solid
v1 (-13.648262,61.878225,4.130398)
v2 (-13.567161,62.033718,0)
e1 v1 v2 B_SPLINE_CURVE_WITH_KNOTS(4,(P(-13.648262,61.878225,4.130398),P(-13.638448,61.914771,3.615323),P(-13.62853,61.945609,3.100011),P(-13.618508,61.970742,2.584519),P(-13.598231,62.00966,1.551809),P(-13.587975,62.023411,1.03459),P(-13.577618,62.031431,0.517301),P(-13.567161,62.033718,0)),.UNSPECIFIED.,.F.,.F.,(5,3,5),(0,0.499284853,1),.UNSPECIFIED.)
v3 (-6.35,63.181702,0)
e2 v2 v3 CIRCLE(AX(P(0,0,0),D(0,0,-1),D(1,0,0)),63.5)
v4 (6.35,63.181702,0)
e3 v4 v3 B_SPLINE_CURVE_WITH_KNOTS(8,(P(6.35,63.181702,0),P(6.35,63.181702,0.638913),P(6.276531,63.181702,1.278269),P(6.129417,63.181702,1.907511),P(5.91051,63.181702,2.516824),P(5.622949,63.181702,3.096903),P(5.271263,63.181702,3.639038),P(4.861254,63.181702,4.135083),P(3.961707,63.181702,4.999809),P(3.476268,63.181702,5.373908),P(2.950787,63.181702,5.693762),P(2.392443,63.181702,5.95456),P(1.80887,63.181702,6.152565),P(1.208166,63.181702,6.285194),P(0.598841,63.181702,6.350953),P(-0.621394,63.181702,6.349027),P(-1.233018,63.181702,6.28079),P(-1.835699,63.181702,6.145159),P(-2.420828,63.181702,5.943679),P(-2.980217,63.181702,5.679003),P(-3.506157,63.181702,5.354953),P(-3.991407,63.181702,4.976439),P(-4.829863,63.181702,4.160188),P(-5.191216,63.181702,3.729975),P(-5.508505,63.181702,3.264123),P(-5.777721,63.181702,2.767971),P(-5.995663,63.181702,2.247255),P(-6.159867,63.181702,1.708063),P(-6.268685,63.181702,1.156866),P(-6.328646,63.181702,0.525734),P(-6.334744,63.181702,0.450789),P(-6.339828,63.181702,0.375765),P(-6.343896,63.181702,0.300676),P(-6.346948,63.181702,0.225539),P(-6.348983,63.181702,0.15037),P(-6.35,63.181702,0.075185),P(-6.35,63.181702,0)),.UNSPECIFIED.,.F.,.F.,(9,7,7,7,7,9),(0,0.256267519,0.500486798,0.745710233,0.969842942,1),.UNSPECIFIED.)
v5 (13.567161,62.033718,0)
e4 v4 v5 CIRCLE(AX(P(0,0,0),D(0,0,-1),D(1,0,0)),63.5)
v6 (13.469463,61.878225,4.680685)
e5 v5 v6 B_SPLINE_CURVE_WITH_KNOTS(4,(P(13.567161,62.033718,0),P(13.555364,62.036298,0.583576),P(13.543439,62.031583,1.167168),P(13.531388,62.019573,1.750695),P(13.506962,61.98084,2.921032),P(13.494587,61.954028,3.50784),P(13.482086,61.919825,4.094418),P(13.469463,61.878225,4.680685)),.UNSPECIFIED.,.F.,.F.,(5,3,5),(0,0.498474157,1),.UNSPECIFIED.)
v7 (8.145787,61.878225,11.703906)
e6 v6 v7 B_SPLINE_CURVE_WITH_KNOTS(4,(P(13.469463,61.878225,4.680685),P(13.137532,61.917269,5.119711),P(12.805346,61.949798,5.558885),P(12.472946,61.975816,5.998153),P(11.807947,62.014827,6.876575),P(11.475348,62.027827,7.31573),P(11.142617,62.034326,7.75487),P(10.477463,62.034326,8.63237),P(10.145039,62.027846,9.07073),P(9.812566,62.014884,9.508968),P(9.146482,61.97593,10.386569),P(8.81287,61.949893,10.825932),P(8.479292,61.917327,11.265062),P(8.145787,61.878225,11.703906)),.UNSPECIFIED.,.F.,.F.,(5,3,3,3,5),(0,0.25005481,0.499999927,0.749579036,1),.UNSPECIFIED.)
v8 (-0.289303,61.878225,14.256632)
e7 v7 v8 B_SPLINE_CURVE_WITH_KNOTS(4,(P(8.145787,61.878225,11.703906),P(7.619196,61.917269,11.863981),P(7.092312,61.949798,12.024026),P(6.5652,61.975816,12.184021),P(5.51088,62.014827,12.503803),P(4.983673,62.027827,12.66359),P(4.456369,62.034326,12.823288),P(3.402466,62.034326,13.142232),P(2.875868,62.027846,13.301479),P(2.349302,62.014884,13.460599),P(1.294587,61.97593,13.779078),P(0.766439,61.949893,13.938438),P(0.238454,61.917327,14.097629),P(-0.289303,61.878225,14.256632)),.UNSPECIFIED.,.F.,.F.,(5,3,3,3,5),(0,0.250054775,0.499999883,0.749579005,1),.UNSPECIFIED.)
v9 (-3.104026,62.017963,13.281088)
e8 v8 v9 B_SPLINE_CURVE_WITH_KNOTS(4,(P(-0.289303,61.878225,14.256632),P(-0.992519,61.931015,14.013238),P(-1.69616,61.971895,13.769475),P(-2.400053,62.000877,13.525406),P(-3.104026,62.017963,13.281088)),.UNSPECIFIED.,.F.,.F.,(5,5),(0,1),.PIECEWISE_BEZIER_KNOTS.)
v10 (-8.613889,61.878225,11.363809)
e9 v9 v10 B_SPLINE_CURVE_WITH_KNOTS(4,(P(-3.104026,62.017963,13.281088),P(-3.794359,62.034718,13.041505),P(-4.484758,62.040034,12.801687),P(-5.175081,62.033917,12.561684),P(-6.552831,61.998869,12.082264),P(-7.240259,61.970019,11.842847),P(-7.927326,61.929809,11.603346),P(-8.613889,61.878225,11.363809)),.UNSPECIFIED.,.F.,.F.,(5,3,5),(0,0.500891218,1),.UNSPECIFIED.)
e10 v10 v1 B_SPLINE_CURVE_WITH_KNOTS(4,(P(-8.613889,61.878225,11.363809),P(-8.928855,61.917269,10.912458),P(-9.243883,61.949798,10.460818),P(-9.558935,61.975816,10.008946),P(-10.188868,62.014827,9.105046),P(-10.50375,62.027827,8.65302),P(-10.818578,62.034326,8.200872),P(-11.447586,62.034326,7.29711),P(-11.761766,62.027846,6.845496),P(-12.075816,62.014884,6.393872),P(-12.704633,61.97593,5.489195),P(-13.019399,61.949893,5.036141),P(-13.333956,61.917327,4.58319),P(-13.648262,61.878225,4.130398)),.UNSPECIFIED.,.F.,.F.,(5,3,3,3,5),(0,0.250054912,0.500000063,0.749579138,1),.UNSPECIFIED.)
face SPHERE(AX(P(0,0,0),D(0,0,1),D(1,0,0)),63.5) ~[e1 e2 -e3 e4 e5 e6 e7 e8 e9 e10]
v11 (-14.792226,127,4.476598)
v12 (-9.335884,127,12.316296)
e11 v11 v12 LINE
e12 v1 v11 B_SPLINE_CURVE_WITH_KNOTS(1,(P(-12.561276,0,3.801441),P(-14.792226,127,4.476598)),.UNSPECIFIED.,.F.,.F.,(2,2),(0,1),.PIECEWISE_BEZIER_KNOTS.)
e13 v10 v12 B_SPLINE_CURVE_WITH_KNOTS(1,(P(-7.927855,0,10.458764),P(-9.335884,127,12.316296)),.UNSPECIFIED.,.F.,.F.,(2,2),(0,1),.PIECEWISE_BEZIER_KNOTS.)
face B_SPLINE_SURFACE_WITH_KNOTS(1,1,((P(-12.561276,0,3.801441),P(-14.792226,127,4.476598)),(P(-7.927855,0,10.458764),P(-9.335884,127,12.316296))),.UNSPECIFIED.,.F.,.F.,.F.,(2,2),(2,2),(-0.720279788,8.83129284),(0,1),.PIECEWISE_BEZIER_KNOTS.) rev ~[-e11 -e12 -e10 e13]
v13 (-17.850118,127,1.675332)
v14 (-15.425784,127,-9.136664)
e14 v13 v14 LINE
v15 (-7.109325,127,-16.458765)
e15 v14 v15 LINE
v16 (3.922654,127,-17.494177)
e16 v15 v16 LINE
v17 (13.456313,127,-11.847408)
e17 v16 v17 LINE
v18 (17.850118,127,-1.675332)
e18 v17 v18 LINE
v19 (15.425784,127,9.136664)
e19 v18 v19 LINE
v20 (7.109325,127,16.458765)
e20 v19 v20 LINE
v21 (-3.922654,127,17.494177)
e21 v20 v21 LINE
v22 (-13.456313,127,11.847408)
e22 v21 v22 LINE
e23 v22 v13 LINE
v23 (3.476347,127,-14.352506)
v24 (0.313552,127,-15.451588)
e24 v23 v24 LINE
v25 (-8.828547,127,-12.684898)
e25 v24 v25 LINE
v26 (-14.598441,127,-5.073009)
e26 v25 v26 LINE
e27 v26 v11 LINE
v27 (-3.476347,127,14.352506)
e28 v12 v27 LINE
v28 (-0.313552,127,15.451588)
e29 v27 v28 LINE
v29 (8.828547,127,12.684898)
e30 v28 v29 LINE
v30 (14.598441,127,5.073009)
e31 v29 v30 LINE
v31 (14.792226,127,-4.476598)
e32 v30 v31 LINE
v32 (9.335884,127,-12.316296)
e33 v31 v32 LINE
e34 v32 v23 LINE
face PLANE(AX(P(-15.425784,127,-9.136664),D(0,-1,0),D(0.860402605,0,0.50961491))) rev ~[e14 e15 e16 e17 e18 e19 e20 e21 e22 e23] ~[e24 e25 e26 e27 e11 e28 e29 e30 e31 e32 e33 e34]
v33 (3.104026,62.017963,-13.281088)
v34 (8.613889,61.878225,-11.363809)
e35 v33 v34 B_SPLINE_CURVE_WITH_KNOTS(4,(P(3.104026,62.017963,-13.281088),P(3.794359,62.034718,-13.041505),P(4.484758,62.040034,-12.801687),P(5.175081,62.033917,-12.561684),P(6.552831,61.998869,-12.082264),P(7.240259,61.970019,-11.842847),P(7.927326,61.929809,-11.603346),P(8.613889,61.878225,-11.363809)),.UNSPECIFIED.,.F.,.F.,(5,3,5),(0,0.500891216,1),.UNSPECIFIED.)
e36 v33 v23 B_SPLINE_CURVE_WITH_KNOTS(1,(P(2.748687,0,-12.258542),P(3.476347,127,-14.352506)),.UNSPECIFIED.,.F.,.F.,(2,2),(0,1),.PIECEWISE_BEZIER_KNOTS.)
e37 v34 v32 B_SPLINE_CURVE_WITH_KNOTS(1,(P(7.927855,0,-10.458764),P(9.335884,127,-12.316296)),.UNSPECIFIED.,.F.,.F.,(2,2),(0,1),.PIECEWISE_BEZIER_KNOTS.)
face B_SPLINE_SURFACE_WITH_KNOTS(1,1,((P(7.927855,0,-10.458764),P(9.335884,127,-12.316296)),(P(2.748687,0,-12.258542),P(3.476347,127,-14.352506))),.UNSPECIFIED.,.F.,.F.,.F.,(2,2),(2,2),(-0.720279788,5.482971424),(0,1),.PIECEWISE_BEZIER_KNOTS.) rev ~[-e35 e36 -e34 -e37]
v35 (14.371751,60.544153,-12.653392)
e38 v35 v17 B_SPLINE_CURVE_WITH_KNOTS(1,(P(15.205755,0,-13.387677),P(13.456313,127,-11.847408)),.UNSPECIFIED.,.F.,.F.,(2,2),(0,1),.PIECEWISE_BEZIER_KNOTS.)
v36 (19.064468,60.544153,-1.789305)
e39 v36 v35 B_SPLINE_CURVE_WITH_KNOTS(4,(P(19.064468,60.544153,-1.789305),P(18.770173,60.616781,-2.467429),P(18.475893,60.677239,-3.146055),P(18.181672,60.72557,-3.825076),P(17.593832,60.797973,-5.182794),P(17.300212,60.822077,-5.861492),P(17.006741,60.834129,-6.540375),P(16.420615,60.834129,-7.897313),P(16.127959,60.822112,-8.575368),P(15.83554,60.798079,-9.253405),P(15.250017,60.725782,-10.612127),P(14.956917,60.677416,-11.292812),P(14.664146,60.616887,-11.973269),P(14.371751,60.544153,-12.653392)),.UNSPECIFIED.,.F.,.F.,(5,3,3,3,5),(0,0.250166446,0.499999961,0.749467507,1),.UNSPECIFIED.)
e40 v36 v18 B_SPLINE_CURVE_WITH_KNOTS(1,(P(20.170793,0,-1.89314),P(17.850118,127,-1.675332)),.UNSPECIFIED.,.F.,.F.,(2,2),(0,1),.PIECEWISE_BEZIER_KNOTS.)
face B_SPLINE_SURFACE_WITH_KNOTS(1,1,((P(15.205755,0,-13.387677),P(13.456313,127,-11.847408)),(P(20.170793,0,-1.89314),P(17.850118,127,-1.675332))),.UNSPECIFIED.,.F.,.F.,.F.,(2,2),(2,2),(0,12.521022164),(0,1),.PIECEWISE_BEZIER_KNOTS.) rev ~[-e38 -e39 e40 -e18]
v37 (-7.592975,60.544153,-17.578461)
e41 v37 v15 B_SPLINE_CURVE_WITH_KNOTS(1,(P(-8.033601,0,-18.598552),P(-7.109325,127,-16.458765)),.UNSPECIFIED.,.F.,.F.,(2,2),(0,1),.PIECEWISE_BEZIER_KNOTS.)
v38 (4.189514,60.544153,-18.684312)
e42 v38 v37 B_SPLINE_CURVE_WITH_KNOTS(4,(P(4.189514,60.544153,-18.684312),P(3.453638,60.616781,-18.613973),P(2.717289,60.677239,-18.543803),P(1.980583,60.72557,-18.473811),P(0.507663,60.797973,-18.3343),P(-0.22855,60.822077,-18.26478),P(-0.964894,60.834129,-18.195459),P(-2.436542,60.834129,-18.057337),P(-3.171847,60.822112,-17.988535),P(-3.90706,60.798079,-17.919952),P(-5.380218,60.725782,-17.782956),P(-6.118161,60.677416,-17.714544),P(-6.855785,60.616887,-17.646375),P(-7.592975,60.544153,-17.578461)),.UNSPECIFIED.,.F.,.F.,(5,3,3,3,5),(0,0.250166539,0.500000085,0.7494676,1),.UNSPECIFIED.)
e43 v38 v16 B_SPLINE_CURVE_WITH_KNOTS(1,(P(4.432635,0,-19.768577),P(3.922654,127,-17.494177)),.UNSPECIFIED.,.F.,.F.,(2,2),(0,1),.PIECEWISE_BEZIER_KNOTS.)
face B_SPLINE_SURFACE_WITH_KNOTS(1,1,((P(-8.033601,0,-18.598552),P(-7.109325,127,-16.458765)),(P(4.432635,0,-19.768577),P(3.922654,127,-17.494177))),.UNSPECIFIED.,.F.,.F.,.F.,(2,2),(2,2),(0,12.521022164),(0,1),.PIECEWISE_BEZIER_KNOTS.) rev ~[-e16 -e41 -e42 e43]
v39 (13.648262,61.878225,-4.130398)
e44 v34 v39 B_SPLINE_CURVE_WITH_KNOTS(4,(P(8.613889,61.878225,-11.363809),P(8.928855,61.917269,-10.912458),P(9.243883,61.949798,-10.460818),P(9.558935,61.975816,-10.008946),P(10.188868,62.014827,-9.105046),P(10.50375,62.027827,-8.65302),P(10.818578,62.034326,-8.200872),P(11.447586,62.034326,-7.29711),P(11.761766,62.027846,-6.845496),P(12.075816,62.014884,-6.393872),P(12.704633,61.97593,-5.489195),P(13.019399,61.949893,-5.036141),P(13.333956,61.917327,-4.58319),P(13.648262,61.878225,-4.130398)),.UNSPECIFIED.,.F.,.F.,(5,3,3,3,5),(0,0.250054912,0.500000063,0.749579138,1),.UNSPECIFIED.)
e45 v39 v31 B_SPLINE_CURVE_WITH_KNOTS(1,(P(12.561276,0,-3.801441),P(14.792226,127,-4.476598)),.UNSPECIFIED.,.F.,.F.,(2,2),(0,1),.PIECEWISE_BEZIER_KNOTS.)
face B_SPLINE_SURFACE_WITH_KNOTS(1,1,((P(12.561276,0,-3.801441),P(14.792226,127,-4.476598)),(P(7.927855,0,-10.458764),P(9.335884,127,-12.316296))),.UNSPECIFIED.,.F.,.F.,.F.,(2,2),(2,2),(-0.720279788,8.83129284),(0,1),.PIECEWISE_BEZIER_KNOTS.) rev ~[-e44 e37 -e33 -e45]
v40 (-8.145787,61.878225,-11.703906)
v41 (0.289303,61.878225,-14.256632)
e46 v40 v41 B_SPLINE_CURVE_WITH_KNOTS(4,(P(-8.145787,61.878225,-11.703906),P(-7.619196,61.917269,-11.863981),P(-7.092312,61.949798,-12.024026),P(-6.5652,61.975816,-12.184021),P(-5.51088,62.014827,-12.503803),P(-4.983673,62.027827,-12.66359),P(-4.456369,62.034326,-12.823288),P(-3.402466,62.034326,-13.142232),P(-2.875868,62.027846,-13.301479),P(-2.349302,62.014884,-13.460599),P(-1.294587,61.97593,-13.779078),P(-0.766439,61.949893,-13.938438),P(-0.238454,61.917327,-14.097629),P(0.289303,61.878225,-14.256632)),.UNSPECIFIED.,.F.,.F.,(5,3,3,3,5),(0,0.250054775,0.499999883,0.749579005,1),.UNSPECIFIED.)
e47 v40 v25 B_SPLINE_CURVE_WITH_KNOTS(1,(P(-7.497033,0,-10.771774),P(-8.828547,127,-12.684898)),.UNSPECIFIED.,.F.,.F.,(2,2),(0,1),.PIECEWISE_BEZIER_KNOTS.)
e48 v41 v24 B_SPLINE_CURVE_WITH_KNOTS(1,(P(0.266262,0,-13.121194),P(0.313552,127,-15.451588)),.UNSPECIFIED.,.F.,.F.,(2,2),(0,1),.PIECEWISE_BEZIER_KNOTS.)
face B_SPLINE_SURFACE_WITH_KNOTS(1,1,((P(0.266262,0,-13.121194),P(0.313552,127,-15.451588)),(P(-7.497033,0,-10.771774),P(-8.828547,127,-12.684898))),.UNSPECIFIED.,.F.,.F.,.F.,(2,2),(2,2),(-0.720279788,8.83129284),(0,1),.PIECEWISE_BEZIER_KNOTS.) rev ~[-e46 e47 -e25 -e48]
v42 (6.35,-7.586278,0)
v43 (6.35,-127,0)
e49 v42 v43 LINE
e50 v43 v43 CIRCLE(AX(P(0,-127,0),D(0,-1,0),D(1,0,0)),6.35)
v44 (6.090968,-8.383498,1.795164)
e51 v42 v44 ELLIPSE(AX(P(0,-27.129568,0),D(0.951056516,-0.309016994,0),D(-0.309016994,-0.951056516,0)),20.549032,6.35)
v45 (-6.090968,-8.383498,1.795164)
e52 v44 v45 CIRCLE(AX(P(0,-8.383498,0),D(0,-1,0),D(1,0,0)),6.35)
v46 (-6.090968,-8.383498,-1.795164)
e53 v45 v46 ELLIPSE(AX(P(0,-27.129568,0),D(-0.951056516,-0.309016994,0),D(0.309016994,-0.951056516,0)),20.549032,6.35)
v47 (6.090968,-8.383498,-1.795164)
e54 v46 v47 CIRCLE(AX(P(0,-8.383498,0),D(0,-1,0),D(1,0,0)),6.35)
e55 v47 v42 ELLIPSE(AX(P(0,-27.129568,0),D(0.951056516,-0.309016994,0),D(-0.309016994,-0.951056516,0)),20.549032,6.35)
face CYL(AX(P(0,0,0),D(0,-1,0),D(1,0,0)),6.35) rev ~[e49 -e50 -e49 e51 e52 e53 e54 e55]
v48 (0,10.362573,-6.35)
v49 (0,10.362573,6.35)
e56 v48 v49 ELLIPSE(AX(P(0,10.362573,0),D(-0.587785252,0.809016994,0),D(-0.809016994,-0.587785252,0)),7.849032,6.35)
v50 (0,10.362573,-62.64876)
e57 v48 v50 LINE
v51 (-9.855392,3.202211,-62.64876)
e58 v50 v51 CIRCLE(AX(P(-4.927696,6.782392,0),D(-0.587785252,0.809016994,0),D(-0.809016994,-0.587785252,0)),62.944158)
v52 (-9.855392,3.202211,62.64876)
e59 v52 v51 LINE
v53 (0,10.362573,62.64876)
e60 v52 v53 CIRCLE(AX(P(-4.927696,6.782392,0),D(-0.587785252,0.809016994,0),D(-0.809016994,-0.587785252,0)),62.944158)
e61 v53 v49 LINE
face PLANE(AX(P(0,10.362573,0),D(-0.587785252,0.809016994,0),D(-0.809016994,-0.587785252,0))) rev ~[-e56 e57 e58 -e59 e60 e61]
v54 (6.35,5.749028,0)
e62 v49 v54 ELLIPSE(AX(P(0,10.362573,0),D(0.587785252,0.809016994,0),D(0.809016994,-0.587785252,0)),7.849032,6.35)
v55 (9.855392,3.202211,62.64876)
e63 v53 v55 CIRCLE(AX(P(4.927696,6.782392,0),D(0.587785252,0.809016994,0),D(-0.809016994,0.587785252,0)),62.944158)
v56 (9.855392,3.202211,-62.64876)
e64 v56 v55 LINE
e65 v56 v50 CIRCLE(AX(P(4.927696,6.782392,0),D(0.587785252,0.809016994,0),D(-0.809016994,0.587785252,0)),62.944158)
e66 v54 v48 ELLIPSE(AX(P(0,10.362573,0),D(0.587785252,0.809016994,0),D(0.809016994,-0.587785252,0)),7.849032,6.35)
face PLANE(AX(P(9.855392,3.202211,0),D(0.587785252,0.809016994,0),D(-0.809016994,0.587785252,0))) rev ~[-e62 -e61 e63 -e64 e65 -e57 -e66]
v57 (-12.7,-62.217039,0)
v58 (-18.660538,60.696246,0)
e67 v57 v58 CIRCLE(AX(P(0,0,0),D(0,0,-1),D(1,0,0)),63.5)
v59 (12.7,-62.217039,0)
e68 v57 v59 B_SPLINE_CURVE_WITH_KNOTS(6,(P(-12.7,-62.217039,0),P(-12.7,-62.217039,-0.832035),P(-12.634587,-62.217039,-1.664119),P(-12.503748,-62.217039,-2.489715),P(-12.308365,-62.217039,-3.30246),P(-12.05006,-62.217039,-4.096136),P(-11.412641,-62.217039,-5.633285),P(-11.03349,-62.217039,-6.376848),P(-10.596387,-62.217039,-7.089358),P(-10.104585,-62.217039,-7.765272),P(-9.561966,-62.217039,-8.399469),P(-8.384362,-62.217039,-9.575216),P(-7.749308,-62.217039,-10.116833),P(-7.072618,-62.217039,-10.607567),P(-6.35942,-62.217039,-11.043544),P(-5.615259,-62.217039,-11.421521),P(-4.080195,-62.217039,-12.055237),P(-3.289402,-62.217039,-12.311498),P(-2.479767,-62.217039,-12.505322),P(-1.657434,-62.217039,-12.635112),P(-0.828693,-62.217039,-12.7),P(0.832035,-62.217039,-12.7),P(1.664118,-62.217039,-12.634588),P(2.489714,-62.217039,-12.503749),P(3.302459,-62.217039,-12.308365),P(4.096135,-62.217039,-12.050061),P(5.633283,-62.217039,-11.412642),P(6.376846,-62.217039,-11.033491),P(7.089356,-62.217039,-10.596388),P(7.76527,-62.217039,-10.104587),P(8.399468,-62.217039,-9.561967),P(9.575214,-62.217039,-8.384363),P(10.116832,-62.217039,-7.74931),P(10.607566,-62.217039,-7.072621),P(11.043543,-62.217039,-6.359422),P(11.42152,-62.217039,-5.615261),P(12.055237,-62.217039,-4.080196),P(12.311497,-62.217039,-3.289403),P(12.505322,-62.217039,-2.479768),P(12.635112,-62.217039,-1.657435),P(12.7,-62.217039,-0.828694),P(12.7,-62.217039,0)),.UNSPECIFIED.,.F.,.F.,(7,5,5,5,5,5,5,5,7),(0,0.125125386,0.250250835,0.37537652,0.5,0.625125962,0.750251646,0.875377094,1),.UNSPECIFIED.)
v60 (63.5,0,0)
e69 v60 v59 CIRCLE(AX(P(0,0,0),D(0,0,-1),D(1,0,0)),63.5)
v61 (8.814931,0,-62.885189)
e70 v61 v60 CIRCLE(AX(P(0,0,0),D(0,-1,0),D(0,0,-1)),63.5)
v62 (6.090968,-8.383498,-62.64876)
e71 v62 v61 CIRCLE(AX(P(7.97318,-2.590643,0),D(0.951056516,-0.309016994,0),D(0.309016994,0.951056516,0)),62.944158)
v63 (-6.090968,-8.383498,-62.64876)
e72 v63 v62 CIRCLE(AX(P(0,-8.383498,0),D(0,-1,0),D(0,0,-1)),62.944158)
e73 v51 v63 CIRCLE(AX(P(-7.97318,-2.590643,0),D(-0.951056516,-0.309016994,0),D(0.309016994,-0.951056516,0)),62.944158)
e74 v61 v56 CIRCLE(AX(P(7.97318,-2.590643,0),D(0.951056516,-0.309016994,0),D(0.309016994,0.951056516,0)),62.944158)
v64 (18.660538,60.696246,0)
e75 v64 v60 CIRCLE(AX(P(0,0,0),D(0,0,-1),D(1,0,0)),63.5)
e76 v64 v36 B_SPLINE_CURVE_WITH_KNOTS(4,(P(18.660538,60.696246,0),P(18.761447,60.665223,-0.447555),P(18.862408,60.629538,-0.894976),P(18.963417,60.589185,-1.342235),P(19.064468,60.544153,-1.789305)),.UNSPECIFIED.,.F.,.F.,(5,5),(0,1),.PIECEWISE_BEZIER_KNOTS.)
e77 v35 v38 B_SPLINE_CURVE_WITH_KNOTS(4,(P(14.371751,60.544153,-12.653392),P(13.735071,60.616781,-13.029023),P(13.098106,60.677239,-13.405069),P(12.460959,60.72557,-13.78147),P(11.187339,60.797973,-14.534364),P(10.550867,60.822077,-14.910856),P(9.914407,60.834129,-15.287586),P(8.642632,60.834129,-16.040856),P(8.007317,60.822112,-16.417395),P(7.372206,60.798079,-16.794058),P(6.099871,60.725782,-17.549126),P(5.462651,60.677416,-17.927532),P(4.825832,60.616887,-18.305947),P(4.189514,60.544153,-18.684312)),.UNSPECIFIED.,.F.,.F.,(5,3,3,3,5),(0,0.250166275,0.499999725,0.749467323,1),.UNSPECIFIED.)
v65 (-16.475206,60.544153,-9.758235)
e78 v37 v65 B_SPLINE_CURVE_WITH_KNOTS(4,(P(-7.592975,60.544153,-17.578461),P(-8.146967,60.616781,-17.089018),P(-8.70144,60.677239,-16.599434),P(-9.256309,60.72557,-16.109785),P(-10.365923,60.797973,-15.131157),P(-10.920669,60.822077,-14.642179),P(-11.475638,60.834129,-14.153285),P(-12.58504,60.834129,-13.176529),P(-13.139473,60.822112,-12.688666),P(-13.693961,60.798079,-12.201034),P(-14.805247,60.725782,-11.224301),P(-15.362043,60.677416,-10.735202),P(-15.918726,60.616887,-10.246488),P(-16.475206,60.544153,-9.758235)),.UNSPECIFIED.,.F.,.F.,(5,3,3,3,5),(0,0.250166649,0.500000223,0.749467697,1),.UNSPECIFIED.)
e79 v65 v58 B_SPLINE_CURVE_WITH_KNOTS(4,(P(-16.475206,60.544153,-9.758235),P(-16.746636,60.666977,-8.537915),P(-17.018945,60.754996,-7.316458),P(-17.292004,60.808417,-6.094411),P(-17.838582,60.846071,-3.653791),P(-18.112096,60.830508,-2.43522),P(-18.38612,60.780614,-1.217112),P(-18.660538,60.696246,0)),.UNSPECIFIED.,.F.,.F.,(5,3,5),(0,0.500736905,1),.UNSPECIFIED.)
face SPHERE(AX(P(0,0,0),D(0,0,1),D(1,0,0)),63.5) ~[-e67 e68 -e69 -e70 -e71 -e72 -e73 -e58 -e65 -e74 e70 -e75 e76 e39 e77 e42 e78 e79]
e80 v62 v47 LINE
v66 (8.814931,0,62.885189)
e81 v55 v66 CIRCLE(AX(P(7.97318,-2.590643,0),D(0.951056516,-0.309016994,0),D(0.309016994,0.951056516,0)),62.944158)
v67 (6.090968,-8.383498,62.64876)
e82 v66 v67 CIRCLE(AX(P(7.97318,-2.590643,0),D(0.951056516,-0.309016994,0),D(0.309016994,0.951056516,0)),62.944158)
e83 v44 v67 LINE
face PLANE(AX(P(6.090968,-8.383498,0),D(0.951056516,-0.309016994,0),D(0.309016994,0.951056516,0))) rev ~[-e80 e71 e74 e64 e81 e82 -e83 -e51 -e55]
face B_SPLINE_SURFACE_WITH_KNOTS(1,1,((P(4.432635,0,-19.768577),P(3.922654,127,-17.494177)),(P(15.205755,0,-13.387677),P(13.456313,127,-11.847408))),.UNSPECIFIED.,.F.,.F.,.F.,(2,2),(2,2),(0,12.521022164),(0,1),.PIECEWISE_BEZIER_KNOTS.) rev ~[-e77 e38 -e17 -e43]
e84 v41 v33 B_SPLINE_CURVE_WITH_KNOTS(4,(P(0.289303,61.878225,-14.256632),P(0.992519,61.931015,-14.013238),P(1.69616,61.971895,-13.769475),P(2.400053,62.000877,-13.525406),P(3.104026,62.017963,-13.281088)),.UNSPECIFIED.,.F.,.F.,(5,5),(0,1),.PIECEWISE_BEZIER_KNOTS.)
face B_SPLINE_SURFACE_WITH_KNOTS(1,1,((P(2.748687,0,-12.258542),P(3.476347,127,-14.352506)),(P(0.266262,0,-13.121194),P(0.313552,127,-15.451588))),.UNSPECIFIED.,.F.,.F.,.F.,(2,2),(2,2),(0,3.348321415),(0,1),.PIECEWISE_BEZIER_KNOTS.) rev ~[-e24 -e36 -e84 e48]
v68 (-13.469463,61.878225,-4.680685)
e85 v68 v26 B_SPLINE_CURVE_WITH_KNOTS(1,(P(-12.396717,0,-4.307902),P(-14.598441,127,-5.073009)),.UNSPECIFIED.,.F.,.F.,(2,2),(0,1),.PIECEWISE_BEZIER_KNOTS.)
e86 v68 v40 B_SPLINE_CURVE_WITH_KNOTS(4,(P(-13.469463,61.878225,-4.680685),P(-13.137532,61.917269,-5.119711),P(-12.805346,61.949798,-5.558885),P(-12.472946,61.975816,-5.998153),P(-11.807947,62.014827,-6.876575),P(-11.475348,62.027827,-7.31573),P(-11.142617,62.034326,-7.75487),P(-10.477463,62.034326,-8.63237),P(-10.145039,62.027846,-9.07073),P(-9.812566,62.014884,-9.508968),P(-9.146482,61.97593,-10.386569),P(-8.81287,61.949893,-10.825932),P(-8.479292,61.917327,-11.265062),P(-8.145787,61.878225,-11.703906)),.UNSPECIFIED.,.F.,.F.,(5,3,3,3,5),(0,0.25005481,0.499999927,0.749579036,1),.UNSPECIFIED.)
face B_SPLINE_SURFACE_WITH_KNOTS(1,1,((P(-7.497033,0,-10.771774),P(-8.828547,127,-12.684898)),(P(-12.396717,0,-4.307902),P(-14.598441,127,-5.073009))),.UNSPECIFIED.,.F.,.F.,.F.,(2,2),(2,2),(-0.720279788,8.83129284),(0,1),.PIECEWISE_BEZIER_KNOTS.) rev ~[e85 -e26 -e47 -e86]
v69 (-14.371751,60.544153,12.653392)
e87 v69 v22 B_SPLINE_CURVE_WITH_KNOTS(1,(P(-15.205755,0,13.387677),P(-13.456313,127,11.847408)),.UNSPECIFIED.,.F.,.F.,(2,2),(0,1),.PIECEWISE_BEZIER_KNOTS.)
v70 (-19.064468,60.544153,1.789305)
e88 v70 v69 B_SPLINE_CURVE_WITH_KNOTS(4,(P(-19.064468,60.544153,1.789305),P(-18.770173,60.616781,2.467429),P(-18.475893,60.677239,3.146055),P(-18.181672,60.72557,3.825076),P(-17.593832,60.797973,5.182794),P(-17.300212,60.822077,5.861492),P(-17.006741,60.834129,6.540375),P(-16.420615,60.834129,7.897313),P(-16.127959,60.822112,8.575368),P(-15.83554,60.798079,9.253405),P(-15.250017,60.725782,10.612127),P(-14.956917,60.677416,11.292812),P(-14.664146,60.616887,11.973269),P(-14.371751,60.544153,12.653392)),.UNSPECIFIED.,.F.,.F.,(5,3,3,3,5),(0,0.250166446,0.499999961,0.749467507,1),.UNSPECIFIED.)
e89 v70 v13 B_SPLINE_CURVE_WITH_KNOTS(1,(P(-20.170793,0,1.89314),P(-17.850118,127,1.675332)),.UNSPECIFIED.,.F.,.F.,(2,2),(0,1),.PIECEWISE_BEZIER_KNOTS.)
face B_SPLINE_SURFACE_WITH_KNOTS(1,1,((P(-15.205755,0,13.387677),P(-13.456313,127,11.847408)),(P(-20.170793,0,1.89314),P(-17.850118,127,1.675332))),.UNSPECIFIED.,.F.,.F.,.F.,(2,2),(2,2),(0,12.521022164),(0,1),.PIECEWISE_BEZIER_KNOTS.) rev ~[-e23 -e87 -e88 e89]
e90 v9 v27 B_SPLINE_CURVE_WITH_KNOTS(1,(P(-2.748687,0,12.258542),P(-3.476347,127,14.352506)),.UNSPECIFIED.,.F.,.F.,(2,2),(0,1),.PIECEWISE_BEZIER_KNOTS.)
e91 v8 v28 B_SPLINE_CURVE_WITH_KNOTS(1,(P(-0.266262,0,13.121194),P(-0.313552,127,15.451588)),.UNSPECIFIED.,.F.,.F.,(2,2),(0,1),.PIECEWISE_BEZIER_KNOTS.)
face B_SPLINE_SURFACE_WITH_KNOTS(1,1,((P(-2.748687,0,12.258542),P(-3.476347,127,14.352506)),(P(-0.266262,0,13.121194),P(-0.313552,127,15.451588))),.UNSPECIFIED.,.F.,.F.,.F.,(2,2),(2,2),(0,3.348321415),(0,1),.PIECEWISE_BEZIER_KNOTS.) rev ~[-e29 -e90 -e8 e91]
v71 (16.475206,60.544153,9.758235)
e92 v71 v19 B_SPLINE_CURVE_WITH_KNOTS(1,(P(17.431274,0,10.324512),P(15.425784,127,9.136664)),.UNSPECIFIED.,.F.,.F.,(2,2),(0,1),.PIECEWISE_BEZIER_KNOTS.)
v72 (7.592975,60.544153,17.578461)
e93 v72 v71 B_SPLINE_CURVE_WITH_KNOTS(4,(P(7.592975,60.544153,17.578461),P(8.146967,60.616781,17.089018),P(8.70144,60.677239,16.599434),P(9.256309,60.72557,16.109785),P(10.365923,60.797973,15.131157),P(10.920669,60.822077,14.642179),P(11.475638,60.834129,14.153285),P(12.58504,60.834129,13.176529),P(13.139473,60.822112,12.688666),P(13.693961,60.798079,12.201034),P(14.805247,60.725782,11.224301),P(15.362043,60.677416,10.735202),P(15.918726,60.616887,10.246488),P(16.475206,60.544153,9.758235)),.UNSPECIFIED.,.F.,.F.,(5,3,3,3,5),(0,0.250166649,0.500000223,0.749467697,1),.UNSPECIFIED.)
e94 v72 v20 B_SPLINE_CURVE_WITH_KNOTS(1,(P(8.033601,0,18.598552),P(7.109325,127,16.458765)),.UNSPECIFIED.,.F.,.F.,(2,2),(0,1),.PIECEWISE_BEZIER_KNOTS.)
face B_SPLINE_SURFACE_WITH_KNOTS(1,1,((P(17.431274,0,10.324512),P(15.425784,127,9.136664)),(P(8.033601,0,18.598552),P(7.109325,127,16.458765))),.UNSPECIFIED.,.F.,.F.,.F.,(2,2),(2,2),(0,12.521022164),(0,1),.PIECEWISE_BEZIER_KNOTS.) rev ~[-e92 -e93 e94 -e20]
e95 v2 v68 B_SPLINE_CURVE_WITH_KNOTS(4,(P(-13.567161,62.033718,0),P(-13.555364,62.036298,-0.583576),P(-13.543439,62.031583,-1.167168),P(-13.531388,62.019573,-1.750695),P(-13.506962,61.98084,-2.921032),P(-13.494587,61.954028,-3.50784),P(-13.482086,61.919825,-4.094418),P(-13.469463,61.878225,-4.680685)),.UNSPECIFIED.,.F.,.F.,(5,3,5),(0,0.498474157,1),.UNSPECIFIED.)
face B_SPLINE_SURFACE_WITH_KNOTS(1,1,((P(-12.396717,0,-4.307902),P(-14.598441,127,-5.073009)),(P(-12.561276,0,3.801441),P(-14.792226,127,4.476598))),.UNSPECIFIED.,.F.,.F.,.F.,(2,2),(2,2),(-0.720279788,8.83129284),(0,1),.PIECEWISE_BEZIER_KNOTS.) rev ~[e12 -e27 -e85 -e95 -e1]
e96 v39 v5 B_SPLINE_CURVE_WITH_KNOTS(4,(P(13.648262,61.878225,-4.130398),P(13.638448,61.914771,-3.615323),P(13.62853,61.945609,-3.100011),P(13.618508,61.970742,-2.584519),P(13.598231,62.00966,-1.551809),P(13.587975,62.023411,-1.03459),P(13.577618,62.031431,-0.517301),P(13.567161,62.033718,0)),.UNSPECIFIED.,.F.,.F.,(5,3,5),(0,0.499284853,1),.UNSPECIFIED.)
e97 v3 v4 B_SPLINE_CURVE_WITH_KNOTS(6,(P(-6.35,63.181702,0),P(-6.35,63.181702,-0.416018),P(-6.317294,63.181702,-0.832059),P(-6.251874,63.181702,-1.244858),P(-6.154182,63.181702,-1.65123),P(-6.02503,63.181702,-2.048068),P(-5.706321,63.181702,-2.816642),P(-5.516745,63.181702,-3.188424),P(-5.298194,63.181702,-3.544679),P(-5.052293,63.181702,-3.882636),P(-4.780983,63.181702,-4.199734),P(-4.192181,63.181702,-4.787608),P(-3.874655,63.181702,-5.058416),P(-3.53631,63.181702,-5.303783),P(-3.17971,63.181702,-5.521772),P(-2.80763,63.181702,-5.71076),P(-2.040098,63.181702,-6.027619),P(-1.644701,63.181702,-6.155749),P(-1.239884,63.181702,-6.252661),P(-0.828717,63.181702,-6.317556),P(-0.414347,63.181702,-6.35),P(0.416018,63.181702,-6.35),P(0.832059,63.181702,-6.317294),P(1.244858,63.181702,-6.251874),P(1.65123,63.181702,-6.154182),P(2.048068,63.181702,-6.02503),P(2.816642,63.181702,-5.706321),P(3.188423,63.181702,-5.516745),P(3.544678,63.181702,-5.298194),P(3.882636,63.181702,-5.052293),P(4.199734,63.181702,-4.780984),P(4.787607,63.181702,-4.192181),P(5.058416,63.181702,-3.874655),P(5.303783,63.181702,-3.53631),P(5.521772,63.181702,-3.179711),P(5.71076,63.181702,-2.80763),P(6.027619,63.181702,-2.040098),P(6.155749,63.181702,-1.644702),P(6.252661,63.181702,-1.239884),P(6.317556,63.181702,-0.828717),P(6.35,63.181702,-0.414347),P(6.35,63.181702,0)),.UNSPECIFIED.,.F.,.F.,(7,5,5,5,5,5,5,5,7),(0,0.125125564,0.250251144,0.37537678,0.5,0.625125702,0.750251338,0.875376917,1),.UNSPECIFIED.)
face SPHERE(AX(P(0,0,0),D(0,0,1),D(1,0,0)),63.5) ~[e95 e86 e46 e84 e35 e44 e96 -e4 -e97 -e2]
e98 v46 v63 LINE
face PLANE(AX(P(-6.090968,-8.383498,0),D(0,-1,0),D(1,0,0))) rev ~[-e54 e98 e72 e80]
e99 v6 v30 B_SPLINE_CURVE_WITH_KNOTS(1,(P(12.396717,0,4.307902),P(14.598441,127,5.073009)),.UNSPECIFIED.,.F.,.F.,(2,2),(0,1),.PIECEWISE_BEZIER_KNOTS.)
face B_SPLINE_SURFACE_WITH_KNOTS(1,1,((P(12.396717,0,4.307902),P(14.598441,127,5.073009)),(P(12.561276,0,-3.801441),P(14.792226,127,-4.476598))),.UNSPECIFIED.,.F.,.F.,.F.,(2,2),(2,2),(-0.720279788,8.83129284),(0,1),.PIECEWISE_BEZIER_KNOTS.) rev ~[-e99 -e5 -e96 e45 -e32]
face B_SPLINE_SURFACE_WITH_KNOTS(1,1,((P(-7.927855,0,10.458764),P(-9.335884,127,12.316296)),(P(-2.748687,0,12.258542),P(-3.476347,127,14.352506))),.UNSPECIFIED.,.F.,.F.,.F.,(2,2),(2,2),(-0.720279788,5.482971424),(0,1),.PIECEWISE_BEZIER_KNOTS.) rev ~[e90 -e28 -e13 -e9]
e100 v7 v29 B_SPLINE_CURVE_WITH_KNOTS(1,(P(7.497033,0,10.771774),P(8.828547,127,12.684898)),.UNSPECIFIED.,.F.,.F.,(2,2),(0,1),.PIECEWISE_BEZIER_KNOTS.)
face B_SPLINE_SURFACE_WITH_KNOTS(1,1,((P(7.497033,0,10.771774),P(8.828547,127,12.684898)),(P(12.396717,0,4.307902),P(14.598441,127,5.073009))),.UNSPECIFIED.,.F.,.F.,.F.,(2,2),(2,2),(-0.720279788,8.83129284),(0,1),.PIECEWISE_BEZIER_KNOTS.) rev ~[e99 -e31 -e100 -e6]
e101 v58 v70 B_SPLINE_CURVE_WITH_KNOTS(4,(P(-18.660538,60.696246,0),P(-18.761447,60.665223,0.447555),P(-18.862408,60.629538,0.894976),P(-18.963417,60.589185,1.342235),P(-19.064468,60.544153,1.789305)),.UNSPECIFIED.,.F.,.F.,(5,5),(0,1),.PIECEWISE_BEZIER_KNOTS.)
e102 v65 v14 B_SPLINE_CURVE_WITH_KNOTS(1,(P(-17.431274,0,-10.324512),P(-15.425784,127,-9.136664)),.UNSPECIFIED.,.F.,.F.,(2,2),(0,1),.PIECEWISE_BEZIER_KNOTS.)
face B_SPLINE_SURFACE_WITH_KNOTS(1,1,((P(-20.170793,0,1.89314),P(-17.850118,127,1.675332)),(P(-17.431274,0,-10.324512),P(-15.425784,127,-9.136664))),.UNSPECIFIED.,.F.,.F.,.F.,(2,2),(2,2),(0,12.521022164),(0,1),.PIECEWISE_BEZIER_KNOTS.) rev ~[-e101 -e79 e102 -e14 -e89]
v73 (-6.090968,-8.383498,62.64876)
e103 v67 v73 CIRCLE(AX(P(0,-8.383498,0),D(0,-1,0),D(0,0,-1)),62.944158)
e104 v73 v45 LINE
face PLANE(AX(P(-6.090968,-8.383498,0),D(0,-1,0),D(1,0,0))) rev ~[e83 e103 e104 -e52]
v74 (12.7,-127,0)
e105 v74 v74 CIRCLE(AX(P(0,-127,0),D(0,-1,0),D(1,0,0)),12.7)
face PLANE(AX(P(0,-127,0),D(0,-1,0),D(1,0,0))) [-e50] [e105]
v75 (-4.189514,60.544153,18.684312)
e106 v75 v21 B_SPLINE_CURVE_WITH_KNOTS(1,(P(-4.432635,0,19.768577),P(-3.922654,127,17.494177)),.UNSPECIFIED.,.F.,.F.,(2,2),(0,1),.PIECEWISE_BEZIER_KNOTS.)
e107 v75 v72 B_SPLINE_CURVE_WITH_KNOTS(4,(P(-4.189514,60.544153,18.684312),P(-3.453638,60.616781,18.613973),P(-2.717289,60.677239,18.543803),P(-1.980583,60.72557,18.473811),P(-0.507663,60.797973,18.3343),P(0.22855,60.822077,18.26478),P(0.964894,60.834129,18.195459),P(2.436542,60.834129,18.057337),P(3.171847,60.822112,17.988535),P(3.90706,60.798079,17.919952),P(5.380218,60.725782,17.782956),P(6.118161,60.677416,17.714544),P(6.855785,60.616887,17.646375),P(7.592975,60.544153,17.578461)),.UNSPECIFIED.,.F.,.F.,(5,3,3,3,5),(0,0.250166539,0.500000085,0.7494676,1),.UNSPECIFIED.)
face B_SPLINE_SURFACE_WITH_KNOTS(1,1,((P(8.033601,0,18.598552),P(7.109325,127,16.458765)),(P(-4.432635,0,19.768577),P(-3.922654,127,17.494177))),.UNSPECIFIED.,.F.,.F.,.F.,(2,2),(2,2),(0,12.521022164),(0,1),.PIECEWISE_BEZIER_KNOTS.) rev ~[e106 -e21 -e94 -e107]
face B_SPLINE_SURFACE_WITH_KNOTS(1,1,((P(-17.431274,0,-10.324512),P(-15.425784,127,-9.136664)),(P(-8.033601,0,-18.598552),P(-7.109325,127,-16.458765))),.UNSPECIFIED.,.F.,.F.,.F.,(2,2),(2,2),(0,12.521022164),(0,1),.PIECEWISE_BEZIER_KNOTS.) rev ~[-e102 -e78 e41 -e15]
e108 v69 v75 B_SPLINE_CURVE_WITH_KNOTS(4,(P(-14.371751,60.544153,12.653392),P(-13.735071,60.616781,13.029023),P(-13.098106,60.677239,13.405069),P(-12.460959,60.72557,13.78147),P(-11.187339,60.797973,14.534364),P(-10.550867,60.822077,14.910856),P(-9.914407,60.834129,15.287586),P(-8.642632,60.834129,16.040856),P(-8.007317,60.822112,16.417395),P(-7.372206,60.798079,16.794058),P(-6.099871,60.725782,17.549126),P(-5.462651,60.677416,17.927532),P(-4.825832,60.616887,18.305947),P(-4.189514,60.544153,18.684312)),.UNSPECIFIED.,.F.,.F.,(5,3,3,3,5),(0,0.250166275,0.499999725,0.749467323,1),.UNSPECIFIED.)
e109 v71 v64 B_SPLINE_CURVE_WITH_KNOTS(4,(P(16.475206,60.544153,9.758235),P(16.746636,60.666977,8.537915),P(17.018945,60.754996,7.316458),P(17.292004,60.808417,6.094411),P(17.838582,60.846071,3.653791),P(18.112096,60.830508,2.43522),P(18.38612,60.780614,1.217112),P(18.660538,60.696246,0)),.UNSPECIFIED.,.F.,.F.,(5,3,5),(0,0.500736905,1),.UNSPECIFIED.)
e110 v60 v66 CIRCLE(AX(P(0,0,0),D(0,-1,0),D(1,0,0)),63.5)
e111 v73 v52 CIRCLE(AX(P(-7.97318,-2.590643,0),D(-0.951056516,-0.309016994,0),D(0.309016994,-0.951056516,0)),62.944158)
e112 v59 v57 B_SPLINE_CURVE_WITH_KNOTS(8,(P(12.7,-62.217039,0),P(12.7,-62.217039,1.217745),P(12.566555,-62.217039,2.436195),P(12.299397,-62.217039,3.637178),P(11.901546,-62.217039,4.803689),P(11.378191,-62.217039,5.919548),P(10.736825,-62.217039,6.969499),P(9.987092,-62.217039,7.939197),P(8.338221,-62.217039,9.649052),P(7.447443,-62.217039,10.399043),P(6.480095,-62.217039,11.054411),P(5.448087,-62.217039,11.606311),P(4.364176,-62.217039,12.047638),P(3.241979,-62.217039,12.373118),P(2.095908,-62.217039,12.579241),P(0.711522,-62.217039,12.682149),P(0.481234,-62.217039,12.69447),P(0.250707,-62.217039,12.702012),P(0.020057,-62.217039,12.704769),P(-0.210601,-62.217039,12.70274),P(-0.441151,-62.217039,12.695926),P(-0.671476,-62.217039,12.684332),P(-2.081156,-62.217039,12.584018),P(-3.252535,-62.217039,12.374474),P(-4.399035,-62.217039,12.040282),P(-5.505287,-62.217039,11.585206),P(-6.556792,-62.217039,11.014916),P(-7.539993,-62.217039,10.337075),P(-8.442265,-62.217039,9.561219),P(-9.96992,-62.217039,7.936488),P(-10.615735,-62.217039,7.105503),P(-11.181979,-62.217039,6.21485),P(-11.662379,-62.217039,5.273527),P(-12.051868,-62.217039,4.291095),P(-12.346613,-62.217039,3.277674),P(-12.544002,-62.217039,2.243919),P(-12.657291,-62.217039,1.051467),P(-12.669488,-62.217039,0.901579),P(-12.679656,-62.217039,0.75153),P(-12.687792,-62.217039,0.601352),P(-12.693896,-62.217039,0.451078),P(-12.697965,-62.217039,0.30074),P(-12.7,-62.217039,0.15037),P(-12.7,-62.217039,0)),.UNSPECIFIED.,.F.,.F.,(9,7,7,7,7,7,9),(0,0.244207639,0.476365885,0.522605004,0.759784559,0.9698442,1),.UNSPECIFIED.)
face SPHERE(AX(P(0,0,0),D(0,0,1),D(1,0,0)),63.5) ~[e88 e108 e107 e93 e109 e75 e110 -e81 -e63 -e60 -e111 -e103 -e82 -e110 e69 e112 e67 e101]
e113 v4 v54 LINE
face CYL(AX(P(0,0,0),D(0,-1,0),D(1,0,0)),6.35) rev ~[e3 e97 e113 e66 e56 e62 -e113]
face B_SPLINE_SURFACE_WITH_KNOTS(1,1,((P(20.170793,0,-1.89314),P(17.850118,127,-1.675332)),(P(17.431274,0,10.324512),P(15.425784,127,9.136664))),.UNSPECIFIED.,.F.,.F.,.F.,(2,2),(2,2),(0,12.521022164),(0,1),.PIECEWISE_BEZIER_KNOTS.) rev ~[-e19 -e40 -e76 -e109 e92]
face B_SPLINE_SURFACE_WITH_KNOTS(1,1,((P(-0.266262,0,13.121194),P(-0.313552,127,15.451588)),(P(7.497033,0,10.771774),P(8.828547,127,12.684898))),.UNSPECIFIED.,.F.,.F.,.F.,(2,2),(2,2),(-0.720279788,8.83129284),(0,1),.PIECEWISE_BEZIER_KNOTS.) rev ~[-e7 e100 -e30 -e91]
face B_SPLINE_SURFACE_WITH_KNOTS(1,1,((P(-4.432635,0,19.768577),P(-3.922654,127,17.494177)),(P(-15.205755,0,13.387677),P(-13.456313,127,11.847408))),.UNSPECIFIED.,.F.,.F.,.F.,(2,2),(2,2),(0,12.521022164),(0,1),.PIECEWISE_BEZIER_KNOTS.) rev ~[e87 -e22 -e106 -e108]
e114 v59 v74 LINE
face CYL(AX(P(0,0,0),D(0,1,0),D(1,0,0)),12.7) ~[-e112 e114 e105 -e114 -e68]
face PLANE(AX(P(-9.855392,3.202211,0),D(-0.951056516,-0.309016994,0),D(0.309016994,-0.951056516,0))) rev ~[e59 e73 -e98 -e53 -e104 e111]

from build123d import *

# Parameters (mm, degrees)
F2_R     = 12.7
F3_DEPTH = 127
F4_R     = 6.35
F5_DEPTH = 127
F7_DEPTH = 127
F7_TAPER = 1
F9_DEPTH = 63.5


with BuildPart() as f1:
    # F0 (on Front) → F1 (revolve)
    with BuildSketch(Plane.XZ):
        with BuildLine():
            ThreePointArc((0, -63.5), (44.9012806053, -44.9012806053), (63.5, 0))
            ThreePointArc((63.5, 0), (44.9012806053, 44.9012806053), (0, 63.5))
            Line((0, 63.5), (0, -63.5))
        make_face()
    revolve(axis=Axis((0, 0, 0), (0, 0, -1)))

    # F2 (on Front) → F3 (join)
    with BuildSketch(Plane.XZ):
        Circle(F2_R)
    extrude(amount=F3_DEPTH)

    # F4 (on Front) → F5 (cut, symmetric)
    with BuildSketch(Plane.XZ):
        Circle(F4_R)
    extrude(amount=F5_DEPTH, both=True, mode=Mode.SUBTRACT)

    # F6 (on Front) → F7 (join)
    with BuildSketch(Plane.XZ):
        Polygon((-17.4312744727, -10.324512409), (-8.0336011509, -18.5985520613), (4.4326347585, -19.7685769676), (2.7486874728, -12.2585421145), (0.2662621749, -13.1211935126), (-7.4970334147, -10.7717735178), (-12.3967170547, -4.3079021583), (-12.5612761287, 3.8014414054), (-7.9278546636, 10.4587635585), (-2.7486874728, 12.2585421145), (-4.4326347585, 19.7685769676), (-15.2057548499, 13.3876773816), (-20.1707934132, 1.8931400662), align=None)
        Polygon((2.7486874728, -12.2585421145), (4.4326347585, -19.7685769676), (15.2057548499, -13.3876773816), (20.1707934132, -1.8931400662), (17.4312744727, 10.324512409), (8.0336011509, 18.5985520613), (-4.4326347585, 19.7685769676), (-2.7486874728, 12.2585421145), (-0.2662621749, 13.1211935126), (7.4970334147, 10.7717735178), (12.3967170547, 4.3079021583), (12.5612761287, -3.8014414054), (7.9278546636, -10.4587635585), align=None)
    extrude(amount=-F7_DEPTH, taper=F7_TAPER)

    # F8 (on Top) → F9 (cut, symmetric)
    with BuildSketch(Plane.XY):
        Polygon((-6.0909675368, -8.3834975958), (6.0909675368, -8.3834975958), (9.8553924989, 3.202211137), (0, 10.3625729176), (-9.8553924989, 3.202211137), align=None)
    extrude(amount=F9_DEPTH, both=True, mode=Mode.SUBTRACT)


solid = f1.part
